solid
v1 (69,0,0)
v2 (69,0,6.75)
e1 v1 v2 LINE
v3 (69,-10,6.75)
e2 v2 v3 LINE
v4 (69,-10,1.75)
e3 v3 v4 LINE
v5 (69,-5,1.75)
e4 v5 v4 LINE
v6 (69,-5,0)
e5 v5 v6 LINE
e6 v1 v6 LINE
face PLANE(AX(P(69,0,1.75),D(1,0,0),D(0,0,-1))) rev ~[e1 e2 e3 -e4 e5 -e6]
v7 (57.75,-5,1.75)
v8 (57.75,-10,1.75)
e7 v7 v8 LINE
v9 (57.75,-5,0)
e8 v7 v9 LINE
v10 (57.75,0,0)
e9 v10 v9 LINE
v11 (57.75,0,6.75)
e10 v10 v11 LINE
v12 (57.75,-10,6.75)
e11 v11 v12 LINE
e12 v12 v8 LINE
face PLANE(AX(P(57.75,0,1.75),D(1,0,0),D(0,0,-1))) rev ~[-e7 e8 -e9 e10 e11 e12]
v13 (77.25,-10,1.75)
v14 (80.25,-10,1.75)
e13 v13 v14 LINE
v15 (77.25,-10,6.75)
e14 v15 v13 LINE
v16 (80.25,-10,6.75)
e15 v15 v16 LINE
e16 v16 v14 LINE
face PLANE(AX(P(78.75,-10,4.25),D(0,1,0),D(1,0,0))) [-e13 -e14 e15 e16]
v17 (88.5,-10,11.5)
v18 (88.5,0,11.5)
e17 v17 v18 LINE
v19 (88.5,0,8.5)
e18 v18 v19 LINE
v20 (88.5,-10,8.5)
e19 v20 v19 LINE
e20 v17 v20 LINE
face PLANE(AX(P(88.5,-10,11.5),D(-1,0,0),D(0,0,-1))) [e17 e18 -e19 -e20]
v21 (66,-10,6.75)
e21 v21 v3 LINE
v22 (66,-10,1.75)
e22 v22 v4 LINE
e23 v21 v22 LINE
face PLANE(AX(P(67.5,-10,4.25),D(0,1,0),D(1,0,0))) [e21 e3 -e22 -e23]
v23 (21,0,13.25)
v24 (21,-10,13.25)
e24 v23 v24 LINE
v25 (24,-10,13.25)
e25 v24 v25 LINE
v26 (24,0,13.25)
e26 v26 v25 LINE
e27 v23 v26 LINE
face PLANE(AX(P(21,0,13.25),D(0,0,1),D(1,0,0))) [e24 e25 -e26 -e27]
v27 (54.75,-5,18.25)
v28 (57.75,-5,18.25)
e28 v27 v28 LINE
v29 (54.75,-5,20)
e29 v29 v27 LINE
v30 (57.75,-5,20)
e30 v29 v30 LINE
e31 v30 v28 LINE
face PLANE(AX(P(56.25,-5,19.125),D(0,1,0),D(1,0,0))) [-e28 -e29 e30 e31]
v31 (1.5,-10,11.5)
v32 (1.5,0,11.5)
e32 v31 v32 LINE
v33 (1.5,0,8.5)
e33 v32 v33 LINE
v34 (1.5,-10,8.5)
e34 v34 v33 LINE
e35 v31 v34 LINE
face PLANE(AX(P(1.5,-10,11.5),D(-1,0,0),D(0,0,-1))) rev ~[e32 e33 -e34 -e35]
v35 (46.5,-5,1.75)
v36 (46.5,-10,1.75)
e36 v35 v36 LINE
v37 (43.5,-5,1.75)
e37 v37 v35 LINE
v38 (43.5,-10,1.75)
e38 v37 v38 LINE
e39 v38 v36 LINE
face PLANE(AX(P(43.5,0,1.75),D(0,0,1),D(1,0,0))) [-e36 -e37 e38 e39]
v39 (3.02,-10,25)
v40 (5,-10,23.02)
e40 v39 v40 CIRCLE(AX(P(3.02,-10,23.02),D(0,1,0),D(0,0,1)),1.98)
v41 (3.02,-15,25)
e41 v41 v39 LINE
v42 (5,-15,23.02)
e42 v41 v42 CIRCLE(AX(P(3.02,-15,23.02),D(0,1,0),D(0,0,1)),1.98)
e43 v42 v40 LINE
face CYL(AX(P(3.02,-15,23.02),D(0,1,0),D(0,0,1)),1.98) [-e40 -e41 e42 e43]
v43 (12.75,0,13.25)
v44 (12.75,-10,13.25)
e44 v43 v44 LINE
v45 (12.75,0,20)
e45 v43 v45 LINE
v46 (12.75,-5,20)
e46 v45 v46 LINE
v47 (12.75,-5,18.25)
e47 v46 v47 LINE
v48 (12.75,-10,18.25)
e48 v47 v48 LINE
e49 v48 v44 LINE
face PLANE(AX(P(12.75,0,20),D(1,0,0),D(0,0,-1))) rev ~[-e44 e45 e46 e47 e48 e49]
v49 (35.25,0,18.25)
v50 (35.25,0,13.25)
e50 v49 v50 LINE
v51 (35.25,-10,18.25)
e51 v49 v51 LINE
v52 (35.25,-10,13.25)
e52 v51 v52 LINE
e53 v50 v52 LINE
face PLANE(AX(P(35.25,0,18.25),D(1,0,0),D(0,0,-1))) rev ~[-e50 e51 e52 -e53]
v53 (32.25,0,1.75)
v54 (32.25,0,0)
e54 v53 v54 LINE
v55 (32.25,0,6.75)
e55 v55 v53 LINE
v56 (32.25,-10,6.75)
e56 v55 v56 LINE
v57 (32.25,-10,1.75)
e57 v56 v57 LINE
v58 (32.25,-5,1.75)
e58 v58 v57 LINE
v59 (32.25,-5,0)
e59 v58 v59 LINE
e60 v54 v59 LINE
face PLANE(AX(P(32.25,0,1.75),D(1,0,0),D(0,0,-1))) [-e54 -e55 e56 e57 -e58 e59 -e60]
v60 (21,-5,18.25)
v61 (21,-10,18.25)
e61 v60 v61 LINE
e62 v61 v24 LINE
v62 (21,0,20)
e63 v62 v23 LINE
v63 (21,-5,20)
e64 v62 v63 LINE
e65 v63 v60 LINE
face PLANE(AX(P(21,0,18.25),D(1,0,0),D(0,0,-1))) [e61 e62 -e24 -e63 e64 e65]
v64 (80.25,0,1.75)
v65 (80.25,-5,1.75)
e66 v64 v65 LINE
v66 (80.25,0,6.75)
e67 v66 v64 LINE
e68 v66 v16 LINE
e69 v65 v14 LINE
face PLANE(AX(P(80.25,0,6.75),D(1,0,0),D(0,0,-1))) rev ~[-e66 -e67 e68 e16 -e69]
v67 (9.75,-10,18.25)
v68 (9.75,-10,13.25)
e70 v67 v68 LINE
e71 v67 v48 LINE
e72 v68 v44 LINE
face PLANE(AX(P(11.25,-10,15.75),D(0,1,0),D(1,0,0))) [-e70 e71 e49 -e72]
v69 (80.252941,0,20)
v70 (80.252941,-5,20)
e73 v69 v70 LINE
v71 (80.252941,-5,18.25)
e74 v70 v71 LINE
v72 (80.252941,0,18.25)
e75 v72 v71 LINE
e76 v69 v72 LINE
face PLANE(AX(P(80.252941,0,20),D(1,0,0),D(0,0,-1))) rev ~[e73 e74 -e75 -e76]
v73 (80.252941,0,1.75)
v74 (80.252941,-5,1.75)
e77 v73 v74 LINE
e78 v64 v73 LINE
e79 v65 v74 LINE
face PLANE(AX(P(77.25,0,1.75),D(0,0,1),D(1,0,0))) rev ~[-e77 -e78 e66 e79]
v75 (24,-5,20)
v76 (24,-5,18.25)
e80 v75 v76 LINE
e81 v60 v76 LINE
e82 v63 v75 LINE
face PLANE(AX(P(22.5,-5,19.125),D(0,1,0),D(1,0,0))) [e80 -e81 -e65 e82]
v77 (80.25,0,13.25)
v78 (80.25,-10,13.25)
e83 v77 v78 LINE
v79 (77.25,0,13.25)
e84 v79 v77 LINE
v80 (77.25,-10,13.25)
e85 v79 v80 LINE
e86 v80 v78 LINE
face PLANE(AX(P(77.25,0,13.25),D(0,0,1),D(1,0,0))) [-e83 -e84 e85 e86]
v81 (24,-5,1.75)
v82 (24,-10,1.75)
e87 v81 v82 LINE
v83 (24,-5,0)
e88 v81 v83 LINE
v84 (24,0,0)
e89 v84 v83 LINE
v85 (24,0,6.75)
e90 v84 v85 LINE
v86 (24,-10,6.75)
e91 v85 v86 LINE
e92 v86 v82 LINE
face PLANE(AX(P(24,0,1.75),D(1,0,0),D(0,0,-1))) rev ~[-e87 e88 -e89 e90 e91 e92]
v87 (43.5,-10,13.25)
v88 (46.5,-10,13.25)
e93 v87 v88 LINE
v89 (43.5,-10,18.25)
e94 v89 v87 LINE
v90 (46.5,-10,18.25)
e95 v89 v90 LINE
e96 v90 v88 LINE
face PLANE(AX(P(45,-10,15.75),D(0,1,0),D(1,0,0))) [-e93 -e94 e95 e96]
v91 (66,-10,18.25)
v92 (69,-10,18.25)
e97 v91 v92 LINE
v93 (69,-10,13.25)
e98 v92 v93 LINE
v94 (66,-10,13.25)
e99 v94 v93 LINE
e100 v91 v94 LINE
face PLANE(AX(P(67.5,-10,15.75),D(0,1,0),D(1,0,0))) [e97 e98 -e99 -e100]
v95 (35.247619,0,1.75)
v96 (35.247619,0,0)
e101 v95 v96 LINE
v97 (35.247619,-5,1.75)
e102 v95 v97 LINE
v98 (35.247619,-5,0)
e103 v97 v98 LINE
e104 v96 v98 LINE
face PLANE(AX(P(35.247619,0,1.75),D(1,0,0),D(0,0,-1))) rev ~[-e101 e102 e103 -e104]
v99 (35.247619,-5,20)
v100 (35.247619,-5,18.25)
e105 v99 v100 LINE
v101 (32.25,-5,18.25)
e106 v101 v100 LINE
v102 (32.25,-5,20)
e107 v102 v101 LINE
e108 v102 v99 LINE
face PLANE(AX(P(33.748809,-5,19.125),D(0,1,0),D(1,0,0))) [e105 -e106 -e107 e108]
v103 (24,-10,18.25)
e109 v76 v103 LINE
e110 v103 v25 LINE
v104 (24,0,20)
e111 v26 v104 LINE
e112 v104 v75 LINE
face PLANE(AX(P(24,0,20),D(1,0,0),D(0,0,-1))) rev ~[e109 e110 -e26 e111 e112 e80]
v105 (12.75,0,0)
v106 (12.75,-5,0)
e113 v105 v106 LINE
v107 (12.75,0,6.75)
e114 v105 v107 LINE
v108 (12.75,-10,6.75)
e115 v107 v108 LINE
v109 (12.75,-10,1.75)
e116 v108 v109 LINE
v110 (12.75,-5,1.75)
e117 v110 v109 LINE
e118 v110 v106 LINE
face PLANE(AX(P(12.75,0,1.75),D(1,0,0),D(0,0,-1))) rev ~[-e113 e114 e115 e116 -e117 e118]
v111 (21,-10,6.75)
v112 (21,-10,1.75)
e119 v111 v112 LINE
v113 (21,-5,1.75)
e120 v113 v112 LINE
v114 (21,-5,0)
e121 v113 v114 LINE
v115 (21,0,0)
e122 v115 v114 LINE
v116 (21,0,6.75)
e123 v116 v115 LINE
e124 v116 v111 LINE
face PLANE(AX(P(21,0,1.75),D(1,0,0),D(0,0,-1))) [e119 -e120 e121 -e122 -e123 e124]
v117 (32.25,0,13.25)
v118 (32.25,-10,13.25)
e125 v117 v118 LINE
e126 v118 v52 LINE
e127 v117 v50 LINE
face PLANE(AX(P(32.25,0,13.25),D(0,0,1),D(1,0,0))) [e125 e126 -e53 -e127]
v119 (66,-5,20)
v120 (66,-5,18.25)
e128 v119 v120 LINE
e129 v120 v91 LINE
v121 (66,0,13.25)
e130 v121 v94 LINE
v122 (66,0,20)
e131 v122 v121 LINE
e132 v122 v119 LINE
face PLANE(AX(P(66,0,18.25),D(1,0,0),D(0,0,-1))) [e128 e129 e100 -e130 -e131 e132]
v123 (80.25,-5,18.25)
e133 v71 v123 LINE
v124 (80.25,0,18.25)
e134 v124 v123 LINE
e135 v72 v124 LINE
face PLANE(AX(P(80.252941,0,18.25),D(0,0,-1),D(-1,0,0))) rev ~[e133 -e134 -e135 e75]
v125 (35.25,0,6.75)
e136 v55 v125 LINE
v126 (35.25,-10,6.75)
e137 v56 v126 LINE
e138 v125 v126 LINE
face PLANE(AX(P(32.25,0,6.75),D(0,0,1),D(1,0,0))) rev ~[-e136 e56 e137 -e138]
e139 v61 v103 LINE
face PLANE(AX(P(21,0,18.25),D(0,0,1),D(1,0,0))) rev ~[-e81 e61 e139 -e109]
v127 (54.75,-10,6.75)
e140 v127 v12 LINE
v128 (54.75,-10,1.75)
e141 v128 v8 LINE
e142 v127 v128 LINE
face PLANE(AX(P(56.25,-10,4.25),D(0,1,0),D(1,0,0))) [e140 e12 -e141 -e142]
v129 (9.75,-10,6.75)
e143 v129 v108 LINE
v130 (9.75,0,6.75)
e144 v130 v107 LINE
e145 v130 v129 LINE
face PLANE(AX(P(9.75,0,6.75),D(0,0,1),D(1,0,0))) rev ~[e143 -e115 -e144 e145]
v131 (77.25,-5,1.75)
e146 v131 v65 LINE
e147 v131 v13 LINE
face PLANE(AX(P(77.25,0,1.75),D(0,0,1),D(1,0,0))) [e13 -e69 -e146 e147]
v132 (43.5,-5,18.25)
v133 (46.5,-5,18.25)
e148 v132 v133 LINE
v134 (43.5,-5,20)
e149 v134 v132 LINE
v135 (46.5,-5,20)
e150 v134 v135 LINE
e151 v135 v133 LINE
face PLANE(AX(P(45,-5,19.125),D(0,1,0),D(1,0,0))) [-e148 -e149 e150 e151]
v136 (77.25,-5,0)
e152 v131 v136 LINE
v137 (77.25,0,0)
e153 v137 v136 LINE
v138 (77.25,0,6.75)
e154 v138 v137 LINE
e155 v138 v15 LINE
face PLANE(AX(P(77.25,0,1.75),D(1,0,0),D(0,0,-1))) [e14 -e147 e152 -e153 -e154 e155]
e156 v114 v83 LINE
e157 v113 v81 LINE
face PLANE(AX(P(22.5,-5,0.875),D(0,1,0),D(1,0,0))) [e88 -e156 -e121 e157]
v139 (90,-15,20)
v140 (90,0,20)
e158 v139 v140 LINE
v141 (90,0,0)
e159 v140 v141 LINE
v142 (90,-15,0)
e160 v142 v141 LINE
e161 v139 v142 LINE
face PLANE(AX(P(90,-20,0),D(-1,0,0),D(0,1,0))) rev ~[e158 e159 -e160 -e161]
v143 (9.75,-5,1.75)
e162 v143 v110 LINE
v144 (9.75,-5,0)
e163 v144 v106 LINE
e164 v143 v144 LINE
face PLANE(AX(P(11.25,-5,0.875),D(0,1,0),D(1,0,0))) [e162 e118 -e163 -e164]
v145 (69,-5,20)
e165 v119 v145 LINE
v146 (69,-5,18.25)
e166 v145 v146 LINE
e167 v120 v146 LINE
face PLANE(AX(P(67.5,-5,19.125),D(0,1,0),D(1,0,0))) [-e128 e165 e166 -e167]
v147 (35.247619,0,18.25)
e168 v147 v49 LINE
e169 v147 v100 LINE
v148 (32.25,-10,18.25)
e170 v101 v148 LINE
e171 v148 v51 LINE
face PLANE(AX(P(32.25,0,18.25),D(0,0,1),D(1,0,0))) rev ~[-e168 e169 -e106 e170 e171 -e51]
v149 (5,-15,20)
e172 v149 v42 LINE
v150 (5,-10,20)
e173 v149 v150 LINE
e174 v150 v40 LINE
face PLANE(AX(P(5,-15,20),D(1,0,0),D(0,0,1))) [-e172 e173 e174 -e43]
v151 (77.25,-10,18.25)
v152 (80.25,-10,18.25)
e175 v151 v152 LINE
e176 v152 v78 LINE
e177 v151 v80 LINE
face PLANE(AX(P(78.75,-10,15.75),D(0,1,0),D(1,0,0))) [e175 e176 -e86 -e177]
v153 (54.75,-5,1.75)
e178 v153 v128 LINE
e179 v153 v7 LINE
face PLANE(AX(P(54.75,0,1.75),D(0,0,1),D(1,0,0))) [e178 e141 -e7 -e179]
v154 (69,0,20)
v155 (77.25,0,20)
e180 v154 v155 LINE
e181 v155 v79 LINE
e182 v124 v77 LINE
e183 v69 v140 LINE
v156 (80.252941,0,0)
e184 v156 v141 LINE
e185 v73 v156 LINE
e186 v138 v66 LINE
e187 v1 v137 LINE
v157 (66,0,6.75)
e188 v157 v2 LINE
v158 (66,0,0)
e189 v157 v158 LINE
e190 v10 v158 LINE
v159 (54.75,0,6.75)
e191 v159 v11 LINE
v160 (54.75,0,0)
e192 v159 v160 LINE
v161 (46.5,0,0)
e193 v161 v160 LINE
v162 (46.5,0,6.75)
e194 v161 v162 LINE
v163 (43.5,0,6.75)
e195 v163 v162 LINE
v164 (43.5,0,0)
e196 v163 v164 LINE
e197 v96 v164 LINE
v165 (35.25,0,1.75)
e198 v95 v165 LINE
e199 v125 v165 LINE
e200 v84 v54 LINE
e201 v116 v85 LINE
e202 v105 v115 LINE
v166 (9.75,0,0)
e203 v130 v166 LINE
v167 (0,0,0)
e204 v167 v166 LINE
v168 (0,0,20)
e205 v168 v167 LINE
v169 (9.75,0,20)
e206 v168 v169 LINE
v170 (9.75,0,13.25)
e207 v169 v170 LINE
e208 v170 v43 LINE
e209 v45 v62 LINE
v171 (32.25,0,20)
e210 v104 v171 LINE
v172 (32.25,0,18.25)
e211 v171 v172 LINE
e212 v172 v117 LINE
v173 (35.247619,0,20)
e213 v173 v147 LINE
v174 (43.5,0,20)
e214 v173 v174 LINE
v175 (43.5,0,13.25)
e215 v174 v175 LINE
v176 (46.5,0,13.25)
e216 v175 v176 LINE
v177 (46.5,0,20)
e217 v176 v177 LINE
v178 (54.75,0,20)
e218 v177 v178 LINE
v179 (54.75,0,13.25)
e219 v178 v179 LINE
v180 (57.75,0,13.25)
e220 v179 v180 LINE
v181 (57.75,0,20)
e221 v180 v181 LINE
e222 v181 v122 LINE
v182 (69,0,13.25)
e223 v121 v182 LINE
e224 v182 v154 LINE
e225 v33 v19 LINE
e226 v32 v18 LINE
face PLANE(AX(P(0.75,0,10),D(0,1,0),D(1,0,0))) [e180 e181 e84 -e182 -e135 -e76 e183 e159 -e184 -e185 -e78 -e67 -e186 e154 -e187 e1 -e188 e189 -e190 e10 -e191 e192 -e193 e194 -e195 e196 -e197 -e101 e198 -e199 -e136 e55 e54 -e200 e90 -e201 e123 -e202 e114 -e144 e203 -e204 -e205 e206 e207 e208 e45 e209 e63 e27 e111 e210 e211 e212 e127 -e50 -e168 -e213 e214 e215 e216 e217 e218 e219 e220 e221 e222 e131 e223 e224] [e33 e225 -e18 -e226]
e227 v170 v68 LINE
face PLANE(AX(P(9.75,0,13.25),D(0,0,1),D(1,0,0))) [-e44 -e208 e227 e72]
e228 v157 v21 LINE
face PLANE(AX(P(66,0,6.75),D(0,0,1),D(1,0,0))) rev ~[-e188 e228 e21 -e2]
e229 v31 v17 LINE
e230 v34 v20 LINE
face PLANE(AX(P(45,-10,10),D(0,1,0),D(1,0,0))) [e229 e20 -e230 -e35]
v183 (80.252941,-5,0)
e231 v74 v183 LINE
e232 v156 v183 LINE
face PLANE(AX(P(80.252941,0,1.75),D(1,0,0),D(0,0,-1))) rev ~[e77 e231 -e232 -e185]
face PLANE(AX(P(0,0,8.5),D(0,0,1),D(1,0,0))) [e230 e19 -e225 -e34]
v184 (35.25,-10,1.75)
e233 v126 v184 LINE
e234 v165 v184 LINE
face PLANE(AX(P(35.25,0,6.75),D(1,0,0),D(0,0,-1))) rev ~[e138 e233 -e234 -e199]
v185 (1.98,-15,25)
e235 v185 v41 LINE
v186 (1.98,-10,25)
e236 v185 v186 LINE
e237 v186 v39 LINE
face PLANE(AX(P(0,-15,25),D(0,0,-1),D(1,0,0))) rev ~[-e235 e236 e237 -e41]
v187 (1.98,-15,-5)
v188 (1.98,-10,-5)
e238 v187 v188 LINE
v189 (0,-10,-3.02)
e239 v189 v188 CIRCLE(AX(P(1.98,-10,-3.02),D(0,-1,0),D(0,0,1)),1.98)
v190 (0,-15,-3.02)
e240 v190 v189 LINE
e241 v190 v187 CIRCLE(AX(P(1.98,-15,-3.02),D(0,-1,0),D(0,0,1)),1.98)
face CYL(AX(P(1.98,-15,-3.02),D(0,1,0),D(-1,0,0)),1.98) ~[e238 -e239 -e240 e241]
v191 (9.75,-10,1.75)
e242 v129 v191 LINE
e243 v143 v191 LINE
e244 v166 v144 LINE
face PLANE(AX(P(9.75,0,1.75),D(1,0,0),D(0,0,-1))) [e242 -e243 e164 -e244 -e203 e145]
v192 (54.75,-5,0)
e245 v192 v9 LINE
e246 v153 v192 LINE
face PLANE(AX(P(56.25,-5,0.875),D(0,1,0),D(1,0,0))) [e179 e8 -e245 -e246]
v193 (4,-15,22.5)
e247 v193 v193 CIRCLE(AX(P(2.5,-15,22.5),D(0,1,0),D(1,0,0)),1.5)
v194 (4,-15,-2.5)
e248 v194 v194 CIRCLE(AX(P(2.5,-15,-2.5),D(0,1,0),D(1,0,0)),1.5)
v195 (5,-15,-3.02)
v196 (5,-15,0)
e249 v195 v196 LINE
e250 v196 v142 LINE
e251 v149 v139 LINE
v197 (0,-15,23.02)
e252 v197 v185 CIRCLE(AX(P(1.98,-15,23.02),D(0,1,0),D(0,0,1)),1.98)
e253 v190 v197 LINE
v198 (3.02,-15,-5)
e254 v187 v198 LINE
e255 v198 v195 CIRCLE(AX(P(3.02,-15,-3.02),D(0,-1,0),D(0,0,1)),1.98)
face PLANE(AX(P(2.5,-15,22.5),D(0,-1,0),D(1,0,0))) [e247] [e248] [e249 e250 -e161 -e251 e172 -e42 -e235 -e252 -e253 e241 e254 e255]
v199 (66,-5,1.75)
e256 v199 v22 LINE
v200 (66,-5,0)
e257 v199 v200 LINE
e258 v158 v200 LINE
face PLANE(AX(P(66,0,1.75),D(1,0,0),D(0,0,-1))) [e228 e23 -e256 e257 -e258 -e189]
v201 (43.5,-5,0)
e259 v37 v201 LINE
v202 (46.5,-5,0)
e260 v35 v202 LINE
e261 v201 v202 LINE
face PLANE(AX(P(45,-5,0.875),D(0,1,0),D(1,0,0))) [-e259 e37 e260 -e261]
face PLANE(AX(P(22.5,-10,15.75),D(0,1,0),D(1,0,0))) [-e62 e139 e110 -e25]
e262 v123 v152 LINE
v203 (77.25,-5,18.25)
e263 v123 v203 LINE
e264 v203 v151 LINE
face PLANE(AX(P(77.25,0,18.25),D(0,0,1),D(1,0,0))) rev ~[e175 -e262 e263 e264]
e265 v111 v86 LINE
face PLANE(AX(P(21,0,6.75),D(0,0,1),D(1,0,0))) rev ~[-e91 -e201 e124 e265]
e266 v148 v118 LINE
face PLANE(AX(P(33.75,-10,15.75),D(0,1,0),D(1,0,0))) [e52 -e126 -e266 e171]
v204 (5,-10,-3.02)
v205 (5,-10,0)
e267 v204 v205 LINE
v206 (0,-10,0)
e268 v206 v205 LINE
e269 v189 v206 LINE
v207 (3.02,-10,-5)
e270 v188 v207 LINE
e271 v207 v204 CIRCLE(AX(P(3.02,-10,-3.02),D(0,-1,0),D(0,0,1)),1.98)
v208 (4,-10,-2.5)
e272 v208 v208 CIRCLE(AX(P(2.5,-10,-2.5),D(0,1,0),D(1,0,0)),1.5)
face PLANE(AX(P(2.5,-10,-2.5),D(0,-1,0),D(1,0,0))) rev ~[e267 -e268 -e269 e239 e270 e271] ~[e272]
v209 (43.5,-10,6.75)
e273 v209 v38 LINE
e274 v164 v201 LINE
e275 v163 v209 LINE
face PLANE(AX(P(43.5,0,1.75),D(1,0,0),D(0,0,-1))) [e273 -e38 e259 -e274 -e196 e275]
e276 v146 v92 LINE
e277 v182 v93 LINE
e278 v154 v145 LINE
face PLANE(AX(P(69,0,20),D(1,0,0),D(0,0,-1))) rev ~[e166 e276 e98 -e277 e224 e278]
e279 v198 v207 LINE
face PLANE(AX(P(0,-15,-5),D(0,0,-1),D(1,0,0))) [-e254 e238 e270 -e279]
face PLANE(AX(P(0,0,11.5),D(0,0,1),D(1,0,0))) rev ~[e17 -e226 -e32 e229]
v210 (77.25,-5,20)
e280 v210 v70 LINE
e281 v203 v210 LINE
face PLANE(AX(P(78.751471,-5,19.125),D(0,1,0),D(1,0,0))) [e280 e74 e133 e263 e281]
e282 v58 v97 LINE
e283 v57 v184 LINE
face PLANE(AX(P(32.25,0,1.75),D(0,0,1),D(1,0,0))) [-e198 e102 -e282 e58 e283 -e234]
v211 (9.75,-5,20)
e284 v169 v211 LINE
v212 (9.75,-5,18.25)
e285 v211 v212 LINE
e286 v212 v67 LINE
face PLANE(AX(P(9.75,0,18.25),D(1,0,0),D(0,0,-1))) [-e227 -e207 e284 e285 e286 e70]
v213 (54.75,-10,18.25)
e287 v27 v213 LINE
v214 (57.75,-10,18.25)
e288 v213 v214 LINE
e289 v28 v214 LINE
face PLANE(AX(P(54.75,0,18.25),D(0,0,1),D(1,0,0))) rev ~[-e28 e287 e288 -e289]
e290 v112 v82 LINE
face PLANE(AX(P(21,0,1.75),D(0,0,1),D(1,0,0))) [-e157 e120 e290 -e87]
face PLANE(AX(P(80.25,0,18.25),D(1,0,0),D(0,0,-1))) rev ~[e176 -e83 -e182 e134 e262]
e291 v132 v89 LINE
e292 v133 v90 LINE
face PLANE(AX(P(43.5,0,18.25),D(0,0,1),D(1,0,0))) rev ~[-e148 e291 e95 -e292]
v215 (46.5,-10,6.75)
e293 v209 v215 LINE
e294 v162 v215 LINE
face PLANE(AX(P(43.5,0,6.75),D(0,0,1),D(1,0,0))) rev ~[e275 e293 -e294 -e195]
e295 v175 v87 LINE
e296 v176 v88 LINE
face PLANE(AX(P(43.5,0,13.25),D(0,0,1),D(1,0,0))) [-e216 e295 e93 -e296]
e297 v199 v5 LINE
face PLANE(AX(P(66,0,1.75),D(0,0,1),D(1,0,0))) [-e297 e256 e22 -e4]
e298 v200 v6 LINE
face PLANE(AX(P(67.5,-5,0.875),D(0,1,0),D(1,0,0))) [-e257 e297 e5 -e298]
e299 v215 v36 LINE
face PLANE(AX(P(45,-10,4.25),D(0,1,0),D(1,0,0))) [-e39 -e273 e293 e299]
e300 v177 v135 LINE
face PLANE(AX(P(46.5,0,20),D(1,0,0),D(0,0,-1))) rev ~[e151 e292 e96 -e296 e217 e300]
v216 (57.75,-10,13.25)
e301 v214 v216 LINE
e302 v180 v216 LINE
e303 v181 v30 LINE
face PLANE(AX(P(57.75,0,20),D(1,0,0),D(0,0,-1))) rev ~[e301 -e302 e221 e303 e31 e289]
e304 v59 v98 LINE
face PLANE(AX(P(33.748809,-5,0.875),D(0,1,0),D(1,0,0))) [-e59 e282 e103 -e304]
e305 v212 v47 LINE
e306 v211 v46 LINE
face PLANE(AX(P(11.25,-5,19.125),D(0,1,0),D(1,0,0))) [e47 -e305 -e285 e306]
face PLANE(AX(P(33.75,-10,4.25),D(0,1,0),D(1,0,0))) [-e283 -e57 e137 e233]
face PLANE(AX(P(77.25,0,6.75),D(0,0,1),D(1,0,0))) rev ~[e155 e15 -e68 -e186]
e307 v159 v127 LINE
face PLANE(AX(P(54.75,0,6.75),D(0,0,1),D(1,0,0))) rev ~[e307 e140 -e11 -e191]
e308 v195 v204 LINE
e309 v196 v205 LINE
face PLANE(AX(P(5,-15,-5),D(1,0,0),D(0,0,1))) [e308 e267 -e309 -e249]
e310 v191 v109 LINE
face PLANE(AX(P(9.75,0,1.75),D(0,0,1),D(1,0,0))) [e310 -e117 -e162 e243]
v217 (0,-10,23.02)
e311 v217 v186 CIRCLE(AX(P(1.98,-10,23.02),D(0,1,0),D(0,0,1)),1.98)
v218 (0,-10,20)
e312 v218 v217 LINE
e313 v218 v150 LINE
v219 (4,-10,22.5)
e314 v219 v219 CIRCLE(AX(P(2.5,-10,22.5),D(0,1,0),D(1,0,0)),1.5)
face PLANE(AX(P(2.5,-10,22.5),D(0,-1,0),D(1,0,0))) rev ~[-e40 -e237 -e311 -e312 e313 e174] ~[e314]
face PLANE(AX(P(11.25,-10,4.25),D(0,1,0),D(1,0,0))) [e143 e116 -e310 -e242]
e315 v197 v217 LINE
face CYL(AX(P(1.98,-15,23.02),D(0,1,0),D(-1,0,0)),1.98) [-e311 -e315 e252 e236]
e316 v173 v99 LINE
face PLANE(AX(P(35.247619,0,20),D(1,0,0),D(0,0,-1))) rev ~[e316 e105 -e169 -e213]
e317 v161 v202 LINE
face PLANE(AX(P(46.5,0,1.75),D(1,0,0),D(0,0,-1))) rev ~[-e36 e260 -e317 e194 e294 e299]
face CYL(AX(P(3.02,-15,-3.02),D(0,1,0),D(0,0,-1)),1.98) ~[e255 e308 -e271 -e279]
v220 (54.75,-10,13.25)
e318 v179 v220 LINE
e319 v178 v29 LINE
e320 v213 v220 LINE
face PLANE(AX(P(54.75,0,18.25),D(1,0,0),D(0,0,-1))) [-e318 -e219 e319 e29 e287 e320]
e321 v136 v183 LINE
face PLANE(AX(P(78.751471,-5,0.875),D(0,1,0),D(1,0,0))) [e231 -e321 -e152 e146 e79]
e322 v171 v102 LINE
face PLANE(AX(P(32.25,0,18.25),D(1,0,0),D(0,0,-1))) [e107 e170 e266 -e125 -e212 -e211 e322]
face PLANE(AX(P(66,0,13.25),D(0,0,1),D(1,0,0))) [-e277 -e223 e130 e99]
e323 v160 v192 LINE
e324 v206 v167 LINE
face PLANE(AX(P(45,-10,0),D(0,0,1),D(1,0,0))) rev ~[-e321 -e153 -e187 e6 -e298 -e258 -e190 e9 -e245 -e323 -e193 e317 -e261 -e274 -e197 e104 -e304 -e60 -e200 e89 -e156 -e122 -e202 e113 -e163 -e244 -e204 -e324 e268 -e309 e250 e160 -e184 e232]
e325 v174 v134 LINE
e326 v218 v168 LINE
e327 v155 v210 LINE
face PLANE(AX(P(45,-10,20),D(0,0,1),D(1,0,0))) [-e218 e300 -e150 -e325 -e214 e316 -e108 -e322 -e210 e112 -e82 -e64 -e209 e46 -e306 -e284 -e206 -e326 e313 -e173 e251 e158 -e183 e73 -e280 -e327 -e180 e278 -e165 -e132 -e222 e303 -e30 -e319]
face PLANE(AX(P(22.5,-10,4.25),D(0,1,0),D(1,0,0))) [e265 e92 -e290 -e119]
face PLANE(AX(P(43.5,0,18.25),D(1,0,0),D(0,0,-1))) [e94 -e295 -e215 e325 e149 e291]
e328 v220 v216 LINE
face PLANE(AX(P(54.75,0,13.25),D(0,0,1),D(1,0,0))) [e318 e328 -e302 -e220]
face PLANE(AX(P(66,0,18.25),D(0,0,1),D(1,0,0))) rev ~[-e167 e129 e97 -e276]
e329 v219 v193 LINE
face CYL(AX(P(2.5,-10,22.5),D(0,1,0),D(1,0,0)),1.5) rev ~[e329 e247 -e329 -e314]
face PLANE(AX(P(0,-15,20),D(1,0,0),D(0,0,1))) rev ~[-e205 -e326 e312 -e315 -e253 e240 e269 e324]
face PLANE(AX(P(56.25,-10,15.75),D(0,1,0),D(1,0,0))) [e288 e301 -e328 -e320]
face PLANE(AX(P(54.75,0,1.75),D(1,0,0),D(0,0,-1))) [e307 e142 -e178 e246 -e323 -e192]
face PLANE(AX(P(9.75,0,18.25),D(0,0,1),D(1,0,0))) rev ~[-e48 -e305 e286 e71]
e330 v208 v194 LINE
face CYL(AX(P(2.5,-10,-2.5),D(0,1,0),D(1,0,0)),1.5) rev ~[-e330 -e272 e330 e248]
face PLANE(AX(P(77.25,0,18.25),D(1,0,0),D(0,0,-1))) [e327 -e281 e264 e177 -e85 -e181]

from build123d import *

# Parameters (mm, degrees)
SKETCH1_W           = 90
SKETCH1_H           = 20
BOSS_EXTRUDE1_DEPTH = 20
SKETCH2_W           = 90
SKETCH2_H           = 3
CUT_EXTRUDE1_DEPTH  = 10
SKETCH3_W           = 3
SKETCH3_H           = 5
CUT_EXTRUDE2_DEPTH  = 10
SKETCH4_W           = 3
SKETCH4_H           = 1.75
SKETCH4_W_2         = 2.997618753
SKETCH4_W_3         = 3.002941468
CUT_EXTRUDE3_DEPTH  = 5
SKETCH5_W           = 1.5
SKETCH5_H           = 3
BOSS_EXTRUDE2_DEPTH = 10
SKETCH6_W           = 90
SKETCH6_H           = 5
CUT_EXTRUDE4_DEPTH  = 56
SKETCH7_W           = 5
SKETCH7_H           = 5
BOSS_EXTRUDE3_DEPTH = 5
SKETCH8_R           = 1.5
CUT_EXTRUDE5_DEPTH  = 5
FILLET3_R           = 1.98


with BuildPart() as part:
    # Sketch1 → Boss-Extrude1 (new body)
    with BuildSketch(Plane.XY):
        with Locations((45, -10)):
            Rectangle(SKETCH1_W, SKETCH1_H)
    extrude(amount=BOSS_EXTRUDE1_DEPTH)

    # Sketch2 → Cut-Extrude1 (cut)
    with BuildSketch(Plane(origin=(0, 0, 0), x_dir=(1, 0, 0), z_dir=(0, 1, 0))):
        with Locations((45, -10)):
            Rectangle(SKETCH2_W, SKETCH2_H)
    extrude(amount=-CUT_EXTRUDE1_DEPTH, mode=Mode.SUBTRACT)

    # Sketch3 → Cut-Extrude2 (cut)
    with BuildSketch(Plane(origin=(0, 0, 0), x_dir=(1, 0, 0), z_dir=(0, 1, 0))):
        with Locations((11.25, -15.75)):
            Rectangle(SKETCH3_W, SKETCH3_H)
        with Locations((22.5, -15.75)):
            Rectangle(SKETCH3_W, SKETCH3_H)
        with Locations((33.75, -15.75)):
            Rectangle(SKETCH3_W, SKETCH3_H)
        with Locations((45, -15.75)):
            Rectangle(SKETCH3_W, SKETCH3_H)
        with Locations((56.25, -15.75)):
            Rectangle(SKETCH3_W, SKETCH3_H)
        with Locations((67.5, -15.75)):
            Rectangle(SKETCH3_W, SKETCH3_H)
        with Locations((78.75, -15.75)):
            Rectangle(SKETCH3_W, SKETCH3_H)
        with Locations((11.25, -4.25)):
            Rectangle(SKETCH3_W, SKETCH3_H)
        with Locations((22.5, -4.25)):
            Rectangle(SKETCH3_W, SKETCH3_H)
        with Locations((33.75, -4.25)):
            Rectangle(SKETCH3_W, SKETCH3_H)
        with Locations((45, -4.25)):
            Rectangle(SKETCH3_W, SKETCH3_H)
        with Locations((56.25, -4.25)):
            Rectangle(SKETCH3_W, SKETCH3_H)
        with Locations((67.5, -4.25)):
            Rectangle(SKETCH3_W, SKETCH3_H)
        with Locations((78.75, -4.25)):
            Rectangle(SKETCH3_W, SKETCH3_H)
    extrude(amount=-CUT_EXTRUDE2_DEPTH, mode=Mode.SUBTRACT)

    # Sketch4 → Cut-Extrude3 (cut)
    with BuildSketch(Plane(origin=(0, 0, 0), x_dir=(1, 0, 0), z_dir=(0, 1, 0))):
        with Locations((56.25, -19.125)):
            Rectangle(SKETCH4_W, SKETCH4_H)
        with Locations((67.5, -19.125)):
            Rectangle(SKETCH4_W, SKETCH4_H)
        Polygon((77.25, -18.25), (77.25, -20), (80.252941468, -20), (80.252941468, -18.25), (80.25, -18.25), align=None)
        with Locations((45, -19.125)):
            Rectangle(SKETCH4_W, SKETCH4_H)
        with Locations((33.748809377, -19.125)):
            Rectangle(SKETCH4_W_2, SKETCH4_H)
        with Locations((22.5, -19.125)):
            Rectangle(SKETCH4_W, SKETCH4_H)
        with Locations((11.25, -19.125)):
            Rectangle(SKETCH4_W, SKETCH4_H)
        with Locations((22.5, -0.875)):
            Rectangle(SKETCH4_W, SKETCH4_H)
        with Locations((33.748809377, -0.875)):
            Rectangle(SKETCH4_W_2, SKETCH4_H)
        with Locations((45, -0.875)):
            Rectangle(SKETCH4_W, SKETCH4_H)
        with Locations((56.25, -0.875)):
            Rectangle(SKETCH4_W, SKETCH4_H)
        with Locations((67.5, -0.875)):
            Rectangle(SKETCH4_W, SKETCH4_H)
        with Locations((78.751470734, -0.875)):
            Rectangle(SKETCH4_W_3, SKETCH4_H)
        with Locations((11.25, -0.875)):
            Rectangle(SKETCH4_W, SKETCH4_H)
    extrude(amount=-CUT_EXTRUDE3_DEPTH, mode=Mode.SUBTRACT)

    # Sketch5 → Boss-Extrude2 (add)
    with BuildSketch(Plane(origin=(0, -10, 0), x_dir=(1, 0, 0), z_dir=(0, 1, 0))):
        with Locations((0.75, -10)):
            Rectangle(SKETCH5_W, SKETCH5_H)
        with Locations((89.25, -10)):
            Rectangle(SKETCH5_W, SKETCH5_H)
    extrude(amount=BOSS_EXTRUDE2_DEPTH)

    # Sketch6 → Cut-Extrude4 (cut)
    with BuildSketch(Plane.XY.offset(20)):
        with Locations((45, -17.5)):
            Rectangle(SKETCH6_W, SKETCH6_H)
    extrude(amount=-CUT_EXTRUDE4_DEPTH, mode=Mode.SUBTRACT)

    # Sketch7 → Boss-Extrude3 (add)
    with BuildSketch(Plane.XZ.offset(15)):
        with Locations((2.5, 22.5)):
            Rectangle(SKETCH7_W, SKETCH7_H)
        with Locations((2.5, -2.5)):
            Rectangle(SKETCH7_W, SKETCH7_H)
    extrude(amount=-BOSS_EXTRUDE3_DEPTH)

    # Sketch8 → Cut-Extrude5 (cut)
    with BuildSketch(Plane(origin=(0, -10, 0), x_dir=(1, 0, 0), z_dir=(0, 1, 0))):
        with Locations((2.5, 2.5)):
            Circle(SKETCH8_R)
        with Locations((2.5, -22.5)):
            Circle(SKETCH8_R)
    extrude(amount=-CUT_EXTRUDE5_DEPTH, mode=Mode.SUBTRACT)

    # Fillet3
    fillet3_edges = [part.edges().sort_by_distance(p)[0] for p in [
        (0, -12.5, 25),
        (5, -12.5, 25),
        (0, -12.5, -5),
        (5, -12.5, -5),
    ]]
    fillet(fillet3_edges, radius=FILLET3_R)


solid = part.part
